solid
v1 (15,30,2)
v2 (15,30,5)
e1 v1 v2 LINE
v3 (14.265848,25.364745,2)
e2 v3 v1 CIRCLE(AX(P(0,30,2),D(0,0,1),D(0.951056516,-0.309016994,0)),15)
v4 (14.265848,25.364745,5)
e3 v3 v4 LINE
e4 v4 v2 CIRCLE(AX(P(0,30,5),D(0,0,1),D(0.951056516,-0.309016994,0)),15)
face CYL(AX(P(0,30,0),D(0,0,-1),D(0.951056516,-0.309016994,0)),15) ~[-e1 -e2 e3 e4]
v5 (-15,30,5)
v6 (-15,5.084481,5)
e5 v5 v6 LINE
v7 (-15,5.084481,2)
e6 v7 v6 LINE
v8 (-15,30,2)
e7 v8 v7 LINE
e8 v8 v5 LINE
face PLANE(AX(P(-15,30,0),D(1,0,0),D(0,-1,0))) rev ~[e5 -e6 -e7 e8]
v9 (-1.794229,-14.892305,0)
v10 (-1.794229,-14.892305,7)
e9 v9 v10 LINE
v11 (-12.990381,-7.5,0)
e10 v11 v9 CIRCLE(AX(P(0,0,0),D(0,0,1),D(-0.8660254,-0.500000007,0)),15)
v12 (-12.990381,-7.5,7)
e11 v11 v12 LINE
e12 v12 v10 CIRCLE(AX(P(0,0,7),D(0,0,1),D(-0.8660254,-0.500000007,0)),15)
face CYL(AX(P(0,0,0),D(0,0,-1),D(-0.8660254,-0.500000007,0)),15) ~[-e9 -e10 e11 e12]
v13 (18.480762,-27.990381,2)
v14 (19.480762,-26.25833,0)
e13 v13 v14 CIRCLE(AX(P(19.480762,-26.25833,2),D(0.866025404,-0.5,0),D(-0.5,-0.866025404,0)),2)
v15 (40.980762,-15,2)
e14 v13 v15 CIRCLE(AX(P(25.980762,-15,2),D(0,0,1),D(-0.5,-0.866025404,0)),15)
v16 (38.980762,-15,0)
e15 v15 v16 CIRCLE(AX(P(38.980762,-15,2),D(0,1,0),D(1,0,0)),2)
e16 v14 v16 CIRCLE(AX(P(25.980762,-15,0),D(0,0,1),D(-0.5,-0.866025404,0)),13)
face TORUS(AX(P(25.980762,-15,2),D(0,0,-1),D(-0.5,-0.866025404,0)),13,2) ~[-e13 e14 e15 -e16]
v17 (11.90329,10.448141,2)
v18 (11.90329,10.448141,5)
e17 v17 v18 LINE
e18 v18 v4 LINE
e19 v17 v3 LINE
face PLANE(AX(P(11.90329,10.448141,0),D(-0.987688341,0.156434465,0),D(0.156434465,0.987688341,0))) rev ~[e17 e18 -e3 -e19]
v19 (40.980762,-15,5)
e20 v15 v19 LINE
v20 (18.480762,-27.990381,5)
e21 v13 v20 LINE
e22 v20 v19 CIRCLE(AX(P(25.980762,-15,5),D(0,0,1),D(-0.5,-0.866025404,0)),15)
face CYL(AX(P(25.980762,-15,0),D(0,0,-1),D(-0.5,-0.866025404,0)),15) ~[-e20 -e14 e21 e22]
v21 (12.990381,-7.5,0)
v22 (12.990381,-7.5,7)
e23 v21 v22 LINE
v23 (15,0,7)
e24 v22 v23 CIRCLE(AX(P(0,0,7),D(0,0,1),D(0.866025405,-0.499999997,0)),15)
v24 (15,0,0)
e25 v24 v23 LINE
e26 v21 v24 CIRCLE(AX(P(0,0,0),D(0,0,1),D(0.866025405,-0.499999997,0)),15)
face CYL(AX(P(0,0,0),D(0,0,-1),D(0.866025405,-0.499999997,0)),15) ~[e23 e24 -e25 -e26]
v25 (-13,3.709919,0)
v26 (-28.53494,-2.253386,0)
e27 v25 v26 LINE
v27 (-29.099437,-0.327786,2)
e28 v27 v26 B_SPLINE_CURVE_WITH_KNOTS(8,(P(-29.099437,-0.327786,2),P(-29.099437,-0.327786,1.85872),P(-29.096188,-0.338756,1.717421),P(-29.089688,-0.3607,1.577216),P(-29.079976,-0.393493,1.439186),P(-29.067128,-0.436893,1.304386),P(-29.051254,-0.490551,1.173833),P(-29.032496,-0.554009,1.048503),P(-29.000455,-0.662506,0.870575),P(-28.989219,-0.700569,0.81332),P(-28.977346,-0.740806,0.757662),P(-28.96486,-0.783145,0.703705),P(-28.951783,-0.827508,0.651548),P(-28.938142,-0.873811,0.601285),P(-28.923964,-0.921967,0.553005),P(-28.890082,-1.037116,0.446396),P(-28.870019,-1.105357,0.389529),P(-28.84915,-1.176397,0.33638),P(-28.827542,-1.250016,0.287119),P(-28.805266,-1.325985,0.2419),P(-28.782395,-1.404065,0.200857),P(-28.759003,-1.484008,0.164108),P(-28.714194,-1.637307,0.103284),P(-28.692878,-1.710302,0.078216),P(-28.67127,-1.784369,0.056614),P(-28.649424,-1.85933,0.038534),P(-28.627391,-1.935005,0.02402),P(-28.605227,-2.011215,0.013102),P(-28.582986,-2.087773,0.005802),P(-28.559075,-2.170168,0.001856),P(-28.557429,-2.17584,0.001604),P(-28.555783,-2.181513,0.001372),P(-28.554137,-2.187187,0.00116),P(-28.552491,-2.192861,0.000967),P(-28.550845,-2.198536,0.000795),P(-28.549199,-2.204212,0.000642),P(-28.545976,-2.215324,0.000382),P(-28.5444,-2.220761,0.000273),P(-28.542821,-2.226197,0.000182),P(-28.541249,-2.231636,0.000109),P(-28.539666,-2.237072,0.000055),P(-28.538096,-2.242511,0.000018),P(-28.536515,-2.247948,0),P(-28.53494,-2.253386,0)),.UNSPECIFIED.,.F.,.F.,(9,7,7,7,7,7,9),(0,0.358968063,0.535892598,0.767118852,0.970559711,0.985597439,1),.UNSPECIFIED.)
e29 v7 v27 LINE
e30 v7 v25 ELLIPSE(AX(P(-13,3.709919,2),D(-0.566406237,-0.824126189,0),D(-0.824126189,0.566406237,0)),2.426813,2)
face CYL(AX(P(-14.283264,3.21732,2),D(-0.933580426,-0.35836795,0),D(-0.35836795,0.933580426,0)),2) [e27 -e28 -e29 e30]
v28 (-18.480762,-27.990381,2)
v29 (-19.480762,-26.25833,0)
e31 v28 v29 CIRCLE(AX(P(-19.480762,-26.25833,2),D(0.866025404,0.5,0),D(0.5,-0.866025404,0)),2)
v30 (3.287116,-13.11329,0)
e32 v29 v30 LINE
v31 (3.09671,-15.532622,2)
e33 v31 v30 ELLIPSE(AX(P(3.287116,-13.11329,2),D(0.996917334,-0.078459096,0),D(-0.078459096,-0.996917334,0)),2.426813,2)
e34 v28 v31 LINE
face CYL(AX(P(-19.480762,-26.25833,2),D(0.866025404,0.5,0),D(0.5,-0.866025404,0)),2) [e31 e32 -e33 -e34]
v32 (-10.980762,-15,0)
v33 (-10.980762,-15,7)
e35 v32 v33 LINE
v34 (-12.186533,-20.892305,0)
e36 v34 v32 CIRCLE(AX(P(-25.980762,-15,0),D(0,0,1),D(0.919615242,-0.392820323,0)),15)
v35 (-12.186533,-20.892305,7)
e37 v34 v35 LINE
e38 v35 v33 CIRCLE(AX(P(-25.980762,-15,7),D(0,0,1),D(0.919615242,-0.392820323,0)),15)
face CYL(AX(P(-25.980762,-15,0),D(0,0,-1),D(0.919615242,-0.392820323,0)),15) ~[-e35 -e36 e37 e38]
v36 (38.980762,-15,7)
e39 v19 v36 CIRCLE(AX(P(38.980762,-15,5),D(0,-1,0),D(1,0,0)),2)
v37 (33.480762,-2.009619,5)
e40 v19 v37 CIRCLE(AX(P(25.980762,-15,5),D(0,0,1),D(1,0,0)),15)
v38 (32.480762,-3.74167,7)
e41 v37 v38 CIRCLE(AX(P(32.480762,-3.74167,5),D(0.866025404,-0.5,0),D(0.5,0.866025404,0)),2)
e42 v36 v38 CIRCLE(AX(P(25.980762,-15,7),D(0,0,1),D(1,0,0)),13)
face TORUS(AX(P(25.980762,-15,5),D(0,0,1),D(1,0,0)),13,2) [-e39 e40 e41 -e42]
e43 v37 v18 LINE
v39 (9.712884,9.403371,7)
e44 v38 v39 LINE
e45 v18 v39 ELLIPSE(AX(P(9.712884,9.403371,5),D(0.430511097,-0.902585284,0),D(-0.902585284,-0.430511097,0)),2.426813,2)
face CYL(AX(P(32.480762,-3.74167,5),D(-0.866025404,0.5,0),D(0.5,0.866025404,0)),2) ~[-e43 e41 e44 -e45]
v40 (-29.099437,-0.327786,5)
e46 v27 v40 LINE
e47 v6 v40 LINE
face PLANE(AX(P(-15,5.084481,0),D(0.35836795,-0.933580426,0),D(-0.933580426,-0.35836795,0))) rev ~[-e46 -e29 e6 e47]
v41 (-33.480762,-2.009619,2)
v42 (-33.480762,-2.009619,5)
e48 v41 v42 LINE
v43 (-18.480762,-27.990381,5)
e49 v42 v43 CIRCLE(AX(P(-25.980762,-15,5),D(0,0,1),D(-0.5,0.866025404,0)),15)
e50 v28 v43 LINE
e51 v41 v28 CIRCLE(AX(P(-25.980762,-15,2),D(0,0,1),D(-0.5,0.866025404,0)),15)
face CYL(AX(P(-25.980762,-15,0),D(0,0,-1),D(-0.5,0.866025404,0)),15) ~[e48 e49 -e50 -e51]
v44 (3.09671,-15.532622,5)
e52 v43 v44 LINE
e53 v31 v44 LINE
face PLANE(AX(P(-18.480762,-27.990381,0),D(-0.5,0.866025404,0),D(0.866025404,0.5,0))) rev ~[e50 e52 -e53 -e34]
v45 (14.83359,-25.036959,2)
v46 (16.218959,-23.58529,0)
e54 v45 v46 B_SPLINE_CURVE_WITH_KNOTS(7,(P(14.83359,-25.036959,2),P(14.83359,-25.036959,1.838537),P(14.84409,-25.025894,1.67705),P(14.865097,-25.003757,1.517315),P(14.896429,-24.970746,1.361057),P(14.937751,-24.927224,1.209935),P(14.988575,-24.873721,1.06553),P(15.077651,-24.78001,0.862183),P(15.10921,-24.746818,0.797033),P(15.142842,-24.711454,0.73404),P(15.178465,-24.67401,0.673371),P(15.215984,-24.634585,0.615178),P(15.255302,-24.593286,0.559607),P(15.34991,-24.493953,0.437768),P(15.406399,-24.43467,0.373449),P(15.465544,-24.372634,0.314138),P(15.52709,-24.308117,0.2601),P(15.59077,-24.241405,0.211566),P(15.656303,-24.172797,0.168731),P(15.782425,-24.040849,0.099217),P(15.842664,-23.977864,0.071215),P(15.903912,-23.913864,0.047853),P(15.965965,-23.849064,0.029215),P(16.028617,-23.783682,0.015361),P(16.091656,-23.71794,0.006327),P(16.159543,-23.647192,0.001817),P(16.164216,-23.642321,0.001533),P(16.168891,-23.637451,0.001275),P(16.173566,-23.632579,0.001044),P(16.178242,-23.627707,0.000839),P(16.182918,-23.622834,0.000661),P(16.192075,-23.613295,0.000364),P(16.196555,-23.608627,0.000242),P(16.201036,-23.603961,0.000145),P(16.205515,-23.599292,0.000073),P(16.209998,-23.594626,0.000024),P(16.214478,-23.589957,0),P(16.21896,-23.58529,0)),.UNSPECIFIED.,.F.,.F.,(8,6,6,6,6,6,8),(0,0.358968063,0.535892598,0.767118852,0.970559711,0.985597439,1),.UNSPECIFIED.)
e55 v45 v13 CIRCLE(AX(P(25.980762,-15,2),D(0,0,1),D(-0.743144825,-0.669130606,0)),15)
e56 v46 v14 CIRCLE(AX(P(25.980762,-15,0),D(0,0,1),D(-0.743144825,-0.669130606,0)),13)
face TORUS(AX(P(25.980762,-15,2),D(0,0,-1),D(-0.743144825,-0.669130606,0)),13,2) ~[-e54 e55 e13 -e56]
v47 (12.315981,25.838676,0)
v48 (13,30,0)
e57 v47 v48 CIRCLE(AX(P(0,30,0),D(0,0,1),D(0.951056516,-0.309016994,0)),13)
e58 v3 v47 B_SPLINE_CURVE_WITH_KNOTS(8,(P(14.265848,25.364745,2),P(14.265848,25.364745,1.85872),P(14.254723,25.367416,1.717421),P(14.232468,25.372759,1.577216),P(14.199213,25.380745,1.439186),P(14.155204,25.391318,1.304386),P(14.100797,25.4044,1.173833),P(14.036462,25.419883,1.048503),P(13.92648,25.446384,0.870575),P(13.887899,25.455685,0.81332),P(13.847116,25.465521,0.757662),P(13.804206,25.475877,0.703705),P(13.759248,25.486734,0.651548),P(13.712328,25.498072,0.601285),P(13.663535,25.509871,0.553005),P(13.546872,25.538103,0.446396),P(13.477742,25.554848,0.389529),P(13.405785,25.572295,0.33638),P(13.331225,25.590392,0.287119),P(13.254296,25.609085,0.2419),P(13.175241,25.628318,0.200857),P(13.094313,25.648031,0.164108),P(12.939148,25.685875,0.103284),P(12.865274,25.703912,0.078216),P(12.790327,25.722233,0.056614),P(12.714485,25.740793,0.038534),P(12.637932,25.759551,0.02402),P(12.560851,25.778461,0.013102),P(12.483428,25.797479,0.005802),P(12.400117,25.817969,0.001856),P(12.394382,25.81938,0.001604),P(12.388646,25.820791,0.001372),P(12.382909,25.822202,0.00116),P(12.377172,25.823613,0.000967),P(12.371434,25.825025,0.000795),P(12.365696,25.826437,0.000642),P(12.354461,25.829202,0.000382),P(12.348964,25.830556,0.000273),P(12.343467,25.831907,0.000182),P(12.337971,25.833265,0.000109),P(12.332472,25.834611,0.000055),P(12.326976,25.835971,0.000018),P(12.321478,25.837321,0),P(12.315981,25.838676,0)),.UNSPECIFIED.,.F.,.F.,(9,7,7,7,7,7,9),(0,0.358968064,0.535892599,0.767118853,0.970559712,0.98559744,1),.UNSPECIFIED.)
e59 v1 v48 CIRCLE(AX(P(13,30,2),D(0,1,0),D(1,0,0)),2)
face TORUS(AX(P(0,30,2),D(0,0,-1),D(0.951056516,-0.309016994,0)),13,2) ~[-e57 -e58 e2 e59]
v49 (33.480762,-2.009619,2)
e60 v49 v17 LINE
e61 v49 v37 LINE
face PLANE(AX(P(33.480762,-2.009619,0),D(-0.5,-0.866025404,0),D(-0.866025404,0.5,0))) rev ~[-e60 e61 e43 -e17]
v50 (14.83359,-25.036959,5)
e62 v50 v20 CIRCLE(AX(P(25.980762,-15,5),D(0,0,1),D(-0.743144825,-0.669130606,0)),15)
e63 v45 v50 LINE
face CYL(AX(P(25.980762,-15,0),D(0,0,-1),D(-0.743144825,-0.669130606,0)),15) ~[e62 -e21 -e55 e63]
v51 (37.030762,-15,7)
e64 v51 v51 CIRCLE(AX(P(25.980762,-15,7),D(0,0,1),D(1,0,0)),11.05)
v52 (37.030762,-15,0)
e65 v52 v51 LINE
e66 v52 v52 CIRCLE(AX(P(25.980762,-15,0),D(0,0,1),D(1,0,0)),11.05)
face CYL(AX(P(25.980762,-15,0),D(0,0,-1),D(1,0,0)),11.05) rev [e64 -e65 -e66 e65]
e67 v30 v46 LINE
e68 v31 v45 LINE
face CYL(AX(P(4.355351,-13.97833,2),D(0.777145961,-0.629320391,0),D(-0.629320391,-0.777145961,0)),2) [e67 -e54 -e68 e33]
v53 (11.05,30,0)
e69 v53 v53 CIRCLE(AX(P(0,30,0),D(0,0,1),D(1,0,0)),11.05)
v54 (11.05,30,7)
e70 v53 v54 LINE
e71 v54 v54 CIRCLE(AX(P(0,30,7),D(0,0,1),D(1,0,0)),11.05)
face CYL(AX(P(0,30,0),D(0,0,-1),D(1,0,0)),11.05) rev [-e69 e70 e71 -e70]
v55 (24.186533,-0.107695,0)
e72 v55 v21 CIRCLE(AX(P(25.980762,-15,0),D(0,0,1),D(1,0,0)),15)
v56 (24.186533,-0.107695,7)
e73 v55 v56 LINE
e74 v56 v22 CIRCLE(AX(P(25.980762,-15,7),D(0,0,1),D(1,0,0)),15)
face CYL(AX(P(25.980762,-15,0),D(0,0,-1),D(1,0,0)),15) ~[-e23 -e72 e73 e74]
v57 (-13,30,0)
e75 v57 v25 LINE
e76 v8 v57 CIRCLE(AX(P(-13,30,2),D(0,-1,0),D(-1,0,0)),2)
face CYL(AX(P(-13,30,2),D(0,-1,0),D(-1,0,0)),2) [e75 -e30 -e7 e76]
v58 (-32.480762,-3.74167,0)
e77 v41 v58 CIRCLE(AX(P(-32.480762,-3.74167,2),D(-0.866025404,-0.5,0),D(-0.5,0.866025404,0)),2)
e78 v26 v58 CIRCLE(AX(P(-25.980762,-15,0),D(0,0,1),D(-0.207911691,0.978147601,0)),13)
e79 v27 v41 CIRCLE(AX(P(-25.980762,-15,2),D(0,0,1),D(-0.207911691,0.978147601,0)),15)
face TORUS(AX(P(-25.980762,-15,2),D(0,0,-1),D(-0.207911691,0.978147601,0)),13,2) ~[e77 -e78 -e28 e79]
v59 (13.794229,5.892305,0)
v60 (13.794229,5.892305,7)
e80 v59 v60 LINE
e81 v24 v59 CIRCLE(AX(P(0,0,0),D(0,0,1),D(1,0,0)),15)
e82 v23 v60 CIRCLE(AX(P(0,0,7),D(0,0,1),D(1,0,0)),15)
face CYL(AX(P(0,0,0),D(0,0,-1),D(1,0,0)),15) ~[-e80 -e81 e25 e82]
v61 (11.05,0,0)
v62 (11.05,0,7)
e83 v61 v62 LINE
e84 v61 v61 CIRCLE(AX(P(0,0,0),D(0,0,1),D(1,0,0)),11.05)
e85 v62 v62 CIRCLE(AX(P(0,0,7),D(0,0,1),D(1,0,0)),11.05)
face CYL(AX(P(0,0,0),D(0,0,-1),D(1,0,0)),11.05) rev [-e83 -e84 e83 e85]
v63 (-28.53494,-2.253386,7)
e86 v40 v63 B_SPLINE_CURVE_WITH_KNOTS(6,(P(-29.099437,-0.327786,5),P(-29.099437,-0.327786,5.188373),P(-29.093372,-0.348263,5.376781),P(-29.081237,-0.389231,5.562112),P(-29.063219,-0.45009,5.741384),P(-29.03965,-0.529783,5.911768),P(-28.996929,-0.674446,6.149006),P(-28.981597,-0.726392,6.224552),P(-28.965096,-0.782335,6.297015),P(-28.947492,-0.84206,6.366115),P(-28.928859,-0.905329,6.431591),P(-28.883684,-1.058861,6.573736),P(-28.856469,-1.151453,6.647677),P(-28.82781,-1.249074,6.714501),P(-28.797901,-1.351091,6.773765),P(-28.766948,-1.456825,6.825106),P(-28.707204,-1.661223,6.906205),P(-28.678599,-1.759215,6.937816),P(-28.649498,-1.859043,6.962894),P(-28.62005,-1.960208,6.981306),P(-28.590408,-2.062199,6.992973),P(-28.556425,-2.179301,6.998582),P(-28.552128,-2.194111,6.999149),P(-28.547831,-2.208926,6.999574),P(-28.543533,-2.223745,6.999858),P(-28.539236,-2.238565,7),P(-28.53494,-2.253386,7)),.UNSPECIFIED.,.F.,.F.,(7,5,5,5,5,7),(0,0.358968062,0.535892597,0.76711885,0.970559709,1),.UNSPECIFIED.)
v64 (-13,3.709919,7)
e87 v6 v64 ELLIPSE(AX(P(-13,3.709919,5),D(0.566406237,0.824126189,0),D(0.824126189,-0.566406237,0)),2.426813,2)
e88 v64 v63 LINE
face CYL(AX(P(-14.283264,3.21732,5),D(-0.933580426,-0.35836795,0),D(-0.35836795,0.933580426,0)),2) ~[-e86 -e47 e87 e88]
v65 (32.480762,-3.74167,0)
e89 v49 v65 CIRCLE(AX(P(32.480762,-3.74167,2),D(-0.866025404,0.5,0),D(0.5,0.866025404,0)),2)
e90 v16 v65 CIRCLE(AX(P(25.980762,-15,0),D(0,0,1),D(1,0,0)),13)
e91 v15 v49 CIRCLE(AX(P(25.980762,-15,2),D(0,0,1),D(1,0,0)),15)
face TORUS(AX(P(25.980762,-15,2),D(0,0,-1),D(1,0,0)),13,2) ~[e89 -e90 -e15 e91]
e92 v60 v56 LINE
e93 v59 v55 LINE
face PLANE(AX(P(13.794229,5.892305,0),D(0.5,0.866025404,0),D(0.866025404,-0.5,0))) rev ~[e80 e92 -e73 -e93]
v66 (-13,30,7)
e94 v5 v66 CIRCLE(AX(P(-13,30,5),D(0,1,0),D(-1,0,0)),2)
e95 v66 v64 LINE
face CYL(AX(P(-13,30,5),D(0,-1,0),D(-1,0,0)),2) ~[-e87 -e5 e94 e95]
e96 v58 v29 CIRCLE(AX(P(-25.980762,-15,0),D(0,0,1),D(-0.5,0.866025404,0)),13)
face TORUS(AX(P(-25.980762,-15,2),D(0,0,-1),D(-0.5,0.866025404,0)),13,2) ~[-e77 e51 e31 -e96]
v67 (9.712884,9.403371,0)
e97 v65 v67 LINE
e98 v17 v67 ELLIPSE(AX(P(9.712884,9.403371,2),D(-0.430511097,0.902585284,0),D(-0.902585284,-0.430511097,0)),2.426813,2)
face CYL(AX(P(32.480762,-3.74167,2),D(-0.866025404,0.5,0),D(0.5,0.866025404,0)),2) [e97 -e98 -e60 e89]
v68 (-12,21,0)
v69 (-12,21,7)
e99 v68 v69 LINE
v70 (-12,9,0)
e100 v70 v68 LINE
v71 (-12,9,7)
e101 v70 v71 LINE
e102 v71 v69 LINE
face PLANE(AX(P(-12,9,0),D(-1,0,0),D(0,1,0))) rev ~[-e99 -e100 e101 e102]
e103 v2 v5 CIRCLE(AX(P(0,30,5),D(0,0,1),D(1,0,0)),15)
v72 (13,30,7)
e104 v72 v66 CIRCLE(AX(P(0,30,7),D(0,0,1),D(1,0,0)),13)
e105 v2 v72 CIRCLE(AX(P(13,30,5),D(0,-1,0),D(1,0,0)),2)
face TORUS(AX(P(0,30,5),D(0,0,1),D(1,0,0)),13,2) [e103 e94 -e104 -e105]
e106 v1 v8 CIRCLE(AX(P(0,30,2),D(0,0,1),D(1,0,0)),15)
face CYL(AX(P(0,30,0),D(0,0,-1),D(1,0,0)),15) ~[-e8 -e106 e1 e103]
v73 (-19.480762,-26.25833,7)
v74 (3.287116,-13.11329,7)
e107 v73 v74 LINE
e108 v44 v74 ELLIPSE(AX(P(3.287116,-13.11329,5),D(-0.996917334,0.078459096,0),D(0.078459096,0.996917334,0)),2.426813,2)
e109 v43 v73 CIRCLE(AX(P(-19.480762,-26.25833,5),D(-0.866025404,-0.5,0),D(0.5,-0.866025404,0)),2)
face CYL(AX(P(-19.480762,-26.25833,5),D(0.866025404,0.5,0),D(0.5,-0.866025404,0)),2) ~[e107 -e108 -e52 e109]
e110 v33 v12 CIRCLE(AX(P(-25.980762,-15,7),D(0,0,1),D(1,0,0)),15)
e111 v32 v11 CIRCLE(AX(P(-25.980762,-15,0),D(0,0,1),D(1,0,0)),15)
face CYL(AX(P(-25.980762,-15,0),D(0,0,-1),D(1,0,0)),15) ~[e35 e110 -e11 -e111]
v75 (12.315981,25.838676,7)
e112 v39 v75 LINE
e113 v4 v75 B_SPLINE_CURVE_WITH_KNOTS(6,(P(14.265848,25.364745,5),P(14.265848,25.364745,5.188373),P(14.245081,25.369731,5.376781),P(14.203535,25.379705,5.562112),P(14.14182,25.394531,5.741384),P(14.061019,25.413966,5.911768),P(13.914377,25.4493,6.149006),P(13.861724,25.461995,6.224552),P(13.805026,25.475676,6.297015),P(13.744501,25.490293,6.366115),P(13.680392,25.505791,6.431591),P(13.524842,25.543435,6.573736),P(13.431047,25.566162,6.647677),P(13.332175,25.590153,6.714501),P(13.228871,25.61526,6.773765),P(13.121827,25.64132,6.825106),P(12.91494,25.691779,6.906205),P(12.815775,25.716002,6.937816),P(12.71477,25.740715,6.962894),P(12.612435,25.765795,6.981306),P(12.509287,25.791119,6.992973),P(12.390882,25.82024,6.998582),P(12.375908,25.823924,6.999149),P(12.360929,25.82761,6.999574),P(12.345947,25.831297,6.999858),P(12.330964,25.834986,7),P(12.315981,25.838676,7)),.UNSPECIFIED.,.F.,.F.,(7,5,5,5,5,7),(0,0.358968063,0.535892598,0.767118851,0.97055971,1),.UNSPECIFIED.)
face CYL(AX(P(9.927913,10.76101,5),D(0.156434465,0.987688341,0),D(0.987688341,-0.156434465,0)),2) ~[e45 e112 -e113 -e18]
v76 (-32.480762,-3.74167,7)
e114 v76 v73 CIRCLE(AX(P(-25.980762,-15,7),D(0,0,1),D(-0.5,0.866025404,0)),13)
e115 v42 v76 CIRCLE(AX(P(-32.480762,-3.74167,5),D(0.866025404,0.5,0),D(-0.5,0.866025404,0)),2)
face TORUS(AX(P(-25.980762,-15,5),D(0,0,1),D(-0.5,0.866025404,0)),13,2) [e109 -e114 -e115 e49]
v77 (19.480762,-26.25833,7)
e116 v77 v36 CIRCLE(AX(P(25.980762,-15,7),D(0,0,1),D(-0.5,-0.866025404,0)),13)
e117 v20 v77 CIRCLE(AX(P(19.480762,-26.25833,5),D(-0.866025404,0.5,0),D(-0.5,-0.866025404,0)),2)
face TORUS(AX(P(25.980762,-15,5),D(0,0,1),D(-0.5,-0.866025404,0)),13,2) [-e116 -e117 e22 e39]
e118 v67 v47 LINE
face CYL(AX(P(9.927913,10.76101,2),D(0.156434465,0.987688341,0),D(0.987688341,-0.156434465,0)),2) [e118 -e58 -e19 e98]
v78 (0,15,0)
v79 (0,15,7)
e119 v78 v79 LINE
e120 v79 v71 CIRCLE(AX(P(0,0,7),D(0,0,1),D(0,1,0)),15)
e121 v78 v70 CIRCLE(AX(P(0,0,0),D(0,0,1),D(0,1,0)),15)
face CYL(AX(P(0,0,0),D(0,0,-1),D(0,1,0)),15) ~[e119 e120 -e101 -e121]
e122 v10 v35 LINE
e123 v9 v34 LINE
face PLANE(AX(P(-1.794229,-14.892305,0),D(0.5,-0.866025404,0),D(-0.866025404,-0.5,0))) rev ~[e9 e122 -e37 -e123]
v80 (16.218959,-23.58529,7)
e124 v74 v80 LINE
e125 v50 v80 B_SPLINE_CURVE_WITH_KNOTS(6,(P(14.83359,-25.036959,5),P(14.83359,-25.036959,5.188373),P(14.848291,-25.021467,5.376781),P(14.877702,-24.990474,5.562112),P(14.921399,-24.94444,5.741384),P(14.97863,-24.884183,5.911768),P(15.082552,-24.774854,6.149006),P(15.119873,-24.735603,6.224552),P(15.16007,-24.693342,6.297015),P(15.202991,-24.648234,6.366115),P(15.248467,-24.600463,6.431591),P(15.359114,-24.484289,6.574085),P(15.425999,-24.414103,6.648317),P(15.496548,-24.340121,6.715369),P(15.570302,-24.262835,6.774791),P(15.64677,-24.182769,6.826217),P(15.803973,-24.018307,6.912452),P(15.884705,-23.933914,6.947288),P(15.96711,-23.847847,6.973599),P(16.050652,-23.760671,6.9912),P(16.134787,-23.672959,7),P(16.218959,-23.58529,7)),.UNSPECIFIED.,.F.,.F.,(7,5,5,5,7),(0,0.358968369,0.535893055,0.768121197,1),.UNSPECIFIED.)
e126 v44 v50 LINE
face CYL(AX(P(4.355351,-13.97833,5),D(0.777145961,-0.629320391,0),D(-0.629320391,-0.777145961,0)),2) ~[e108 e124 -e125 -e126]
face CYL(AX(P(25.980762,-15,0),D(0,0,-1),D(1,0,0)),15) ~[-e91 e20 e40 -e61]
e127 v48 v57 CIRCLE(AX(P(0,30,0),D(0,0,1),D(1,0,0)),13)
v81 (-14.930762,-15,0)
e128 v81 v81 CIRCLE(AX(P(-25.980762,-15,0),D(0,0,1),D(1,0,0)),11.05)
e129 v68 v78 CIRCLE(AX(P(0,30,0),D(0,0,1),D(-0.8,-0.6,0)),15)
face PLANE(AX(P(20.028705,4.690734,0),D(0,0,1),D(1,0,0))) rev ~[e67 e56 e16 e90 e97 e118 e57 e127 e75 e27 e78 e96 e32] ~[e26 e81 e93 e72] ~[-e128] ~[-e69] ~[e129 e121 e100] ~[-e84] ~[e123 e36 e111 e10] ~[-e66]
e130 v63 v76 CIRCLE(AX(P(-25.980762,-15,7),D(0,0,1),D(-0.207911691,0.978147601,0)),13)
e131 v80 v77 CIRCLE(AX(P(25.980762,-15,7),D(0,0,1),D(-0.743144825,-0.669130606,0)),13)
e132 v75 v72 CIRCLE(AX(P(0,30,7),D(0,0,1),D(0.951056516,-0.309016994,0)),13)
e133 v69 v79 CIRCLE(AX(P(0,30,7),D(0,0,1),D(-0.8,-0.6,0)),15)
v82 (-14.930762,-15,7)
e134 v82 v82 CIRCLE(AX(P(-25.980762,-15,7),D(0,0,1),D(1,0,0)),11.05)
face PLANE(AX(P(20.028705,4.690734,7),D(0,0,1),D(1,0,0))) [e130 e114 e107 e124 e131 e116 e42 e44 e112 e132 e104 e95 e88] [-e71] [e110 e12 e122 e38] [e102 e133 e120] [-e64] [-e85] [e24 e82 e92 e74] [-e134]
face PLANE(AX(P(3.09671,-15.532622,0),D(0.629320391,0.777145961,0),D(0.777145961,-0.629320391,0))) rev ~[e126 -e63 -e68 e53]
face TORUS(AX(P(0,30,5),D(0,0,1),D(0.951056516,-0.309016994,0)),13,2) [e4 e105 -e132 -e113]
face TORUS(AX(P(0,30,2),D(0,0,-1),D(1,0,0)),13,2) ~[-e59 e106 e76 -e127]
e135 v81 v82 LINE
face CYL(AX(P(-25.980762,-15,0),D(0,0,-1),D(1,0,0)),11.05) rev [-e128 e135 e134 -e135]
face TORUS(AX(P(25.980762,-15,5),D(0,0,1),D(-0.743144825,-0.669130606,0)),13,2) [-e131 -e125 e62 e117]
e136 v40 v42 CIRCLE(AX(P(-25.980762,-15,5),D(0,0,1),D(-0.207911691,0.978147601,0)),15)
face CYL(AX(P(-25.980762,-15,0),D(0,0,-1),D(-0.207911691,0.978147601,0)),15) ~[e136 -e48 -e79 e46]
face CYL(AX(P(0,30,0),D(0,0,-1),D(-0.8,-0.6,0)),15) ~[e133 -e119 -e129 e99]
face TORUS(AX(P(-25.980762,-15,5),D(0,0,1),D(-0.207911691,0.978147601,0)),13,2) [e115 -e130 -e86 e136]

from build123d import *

# Parameters (mm, degrees)
F0_R     = 11.05
F1_DEPTH = 7
F2_R     = 2


with BuildPart() as f1:
    # F0 (on Top) → F1 (new body)
    with BuildSketch(Plane.XY):
        with BuildLine():
            ThreePointArc((7.5, 12.9903810568), (11.2230439167, 9.9520492987), (13.7942286341, 5.8923048454))
            Line((13.7942286341, 5.8923048454), (24.1865334795, -0.1076951546))
            ThreePointArc((24.1865334795, -0.1076951546), (28.9879676676, -0.304534211), (33.4807621135, -2.0096189432))
            Line((33.4807621135, -2.0096189432), (11.903289687, 10.4481405707))
            Line((11.903289687, 10.4481405707), (7.5, 12.9903810568))
        make_face()
        with BuildLine():
            ThreePointArc((14.8335897314, -25.0369590954), (11.0629336807, -16.5679269269), (12.990381079, -7.4999999614))
            ThreePointArc((12.990381079, -7.4999999614), (10.6066017336, -10.606601702), (7.5, -12.9903810568))
            Line((7.5, -12.9903810568), (3.096710313, -15.5326215429))
            Line((3.096710313, -15.5326215429), (14.8335897314, -25.0369590954))
        make_face()
        with BuildLine():
            ThreePointArc((24.1865334795, -0.1076951546), (17.7159140598, -2.4823210359), (12.990381079, -7.4999999614))
            ThreePointArc((12.990381079, -7.4999999614), (11.0629336807, -16.5679269269), (14.8335897314, -25.0369590954))
            Line((14.8335897314, -25.0369590954), (18.4807621135, -27.9903810568))
            ThreePointArc((18.4807621135, -27.9903810568), (33.4807621135, -27.9903810568), (40.9807621135, -15))
            ThreePointArc((40.9807621135, -15), (38.9711431703, -7.5), (33.4807621135, -2.0096189432))
            ThreePointArc((33.4807621135, -2.0096189432), (28.9879676676, -0.304534211), (24.1865334795, -0.1076951546))
        make_face()
        with Locations((25.9807621135, -15)):
            Circle(F0_R, mode=Mode.SUBTRACT)
        with BuildLine():
            ThreePointArc((0, 15), (3.8822856765, 14.4888873943), (7.5, 12.9903810568))
            Line((7.5, 12.9903810568), (11.903289687, 10.4481405707))
            Line((11.903289687, 10.4481405707), (14.2658477444, 25.3647450844))
            ThreePointArc((14.2658477444, 25.3647450844), (8.8167787844, 17.8647450844), (0, 15))
        make_face()
        with BuildLine():
            Line((3.096710313, -15.5326215429), (7.5, -12.9903810568))
            ThreePointArc((7.5, -12.9903810568), (3.0072055541, -14.695465789), (-1.7942286341, -14.8923048454))
            Line((-1.7942286341, -14.8923048454), (-12.1865334795, -20.8923048454))
            ThreePointArc((-12.1865334795, -20.8923048454), (-14.7577181969, -24.9520492987), (-18.4807621135, -27.9903810568))
            Line((-18.4807621135, -27.9903810568), (3.096710313, -15.5326215429))
        make_face()
        with BuildLine():
            Line((18.4807621135, -27.9903810568), (14.8335897314, -25.0369590954))
            ThreePointArc((14.8335897314, -25.0369590954), (16.5409562478, -26.6571894219), (18.4807621135, -27.9903810568))
        make_face()
        with BuildLine():
            ThreePointArc((-12, 21), (-6.7082039325, 16.583592135), (0, 15))
            ThreePointArc((0, 15), (8.8167787844, 17.8647450844), (14.2658477444, 25.3647450844))
            Line((14.2658477444, 25.3647450844), (15, 30))
            ThreePointArc((15, 30), (0, 45), (-15, 30))
            ThreePointArc((-15, 30), (-14.2302494708, 25.2565835097), (-12, 21))
        make_face()
        with Locations((0, 30)):
            Circle(F0_R, mode=Mode.SUBTRACT)
        with BuildLine():
            ThreePointArc((-15, 0), (-14.2302494708, 4.7434164903), (-12, 9))
            Line((-12, 9), (-12, 21))
            ThreePointArc((-12, 21), (-14.2302494708, 25.2565835097), (-15, 30))
            Line((-15, 30), (-15, 5.0844809722))
            Line((-15, 5.0844809722), (-15, 0))
        make_face()
        with BuildLine():
            Line((15, 30), (14.2658477444, 25.3647450844))
            ThreePointArc((14.2658477444, 25.3647450844), (14.8153251089, 27.6534830244), (15, 30))
        make_face()
        with BuildLine():
            ThreePointArc((-29.0994374758, -0.327785989), (-19.8797124097, -1.2968181611), (-12.9903809936, -7.5000001095))
            ThreePointArc((-12.9903809936, -7.5000001095), (-14.488887378, -3.8822857376), (-15, 0))
            Line((-15, 0), (-15, 5.0844809722))
            Line((-15, 5.0844809722), (-29.0994374758, -0.327785989))
        make_face()
        with BuildLine():
            ThreePointArc((-10.9807621135, -15), (-11.4918747028, -11.1177143845), (-12.9903809936, -7.5000001095))
            ThreePointArc((-12.9903809936, -7.5000001095), (-19.8797124097, -1.2968181611), (-29.0994374758, -0.327785989))
            Line((-29.0994374758, -0.327785989), (-33.4807621135, -2.0096189432))
            ThreePointArc((-33.4807621135, -2.0096189432), (-38.9711431703, -22.5), (-18.4807621135, -27.9903810568))
            ThreePointArc((-18.4807621135, -27.9903810568), (-14.7577181969, -24.9520492987), (-12.1865334795, -20.8923048454))
            ThreePointArc((-12.1865334795, -20.8923048454), (-11.2852963245, -18.0072055541), (-10.9807621135, -15))
        make_face()
        with Locations((-25.9807621135, -15)):
            Circle(F0_R, mode=Mode.SUBTRACT)
        with BuildLine():
            Line((-33.4807621135, -2.0096189432), (-29.0994374758, -0.327785989))
            ThreePointArc((-29.0994374758, -0.327785989), (-31.3562813567, -0.9962936025), (-33.4807621135, -2.0096189432))
        make_face()
        with BuildLine():
            ThreePointArc((12.990381079, -7.4999999614), (14.4888874001, -3.882285655), (15, 0))
            ThreePointArc((15, 0), (14.695465789, 3.0072055541), (13.7942286341, 5.8923048454))
            ThreePointArc((13.7942286341, 5.8923048454), (11.2230439167, 9.9520492987), (7.5, 12.9903810568))
            ThreePointArc((7.5, 12.9903810568), (3.8822856765, 14.4888873943), (0, 15))
            ThreePointArc((0, 15), (-6.7082039325, 13.416407865), (-12, 9))
            ThreePointArc((-12, 9), (-14.2302494708, 4.7434164903), (-15, 0))
            ThreePointArc((-15, 0), (-14.488887378, -3.8822857376), (-12.9903809936, -7.5000001095))
            ThreePointArc((-12.9903809936, -7.5000001095), (-8.2648480196, -12.5176789866), (-1.7942286341, -14.8923048454))
            ThreePointArc((-1.7942286341, -14.8923048454), (3.0072055541, -14.695465789), (7.5, -12.9903810568))
            ThreePointArc((7.5, -12.9903810568), (10.6066017336, -10.606601702), (12.990381079, -7.4999999614))
        make_face()
        Circle(F0_R, mode=Mode.SUBTRACT)
    extrude(amount=F1_DEPTH)

    # F2
    f2_edges = [f1.edges().sort_by_distance(p)[0] for p in [
        (22.692026, 4.219261, 0),
        (37.637952, -24.439806, 0),
        (8.96515, -20.28479, 0),
        (-7.692026, -21.761501, 0),
        (-22.049719, 2.378347, 0),
        (-15, 17.54224, 0),
        (13.084569, 17.906443, 0),
        (-15, 17.54224, 7),
        (-22.049719, 2.378347, 7),
        (-7.692026, -21.761501, 7),
        (8.96515, -20.28479, 7),
        (22.692026, 4.219261, 7),
        (13.084569, 17.906443, 7),
    ]]
    fillet(f2_edges, radius=F2_R)


solid = f1.part
